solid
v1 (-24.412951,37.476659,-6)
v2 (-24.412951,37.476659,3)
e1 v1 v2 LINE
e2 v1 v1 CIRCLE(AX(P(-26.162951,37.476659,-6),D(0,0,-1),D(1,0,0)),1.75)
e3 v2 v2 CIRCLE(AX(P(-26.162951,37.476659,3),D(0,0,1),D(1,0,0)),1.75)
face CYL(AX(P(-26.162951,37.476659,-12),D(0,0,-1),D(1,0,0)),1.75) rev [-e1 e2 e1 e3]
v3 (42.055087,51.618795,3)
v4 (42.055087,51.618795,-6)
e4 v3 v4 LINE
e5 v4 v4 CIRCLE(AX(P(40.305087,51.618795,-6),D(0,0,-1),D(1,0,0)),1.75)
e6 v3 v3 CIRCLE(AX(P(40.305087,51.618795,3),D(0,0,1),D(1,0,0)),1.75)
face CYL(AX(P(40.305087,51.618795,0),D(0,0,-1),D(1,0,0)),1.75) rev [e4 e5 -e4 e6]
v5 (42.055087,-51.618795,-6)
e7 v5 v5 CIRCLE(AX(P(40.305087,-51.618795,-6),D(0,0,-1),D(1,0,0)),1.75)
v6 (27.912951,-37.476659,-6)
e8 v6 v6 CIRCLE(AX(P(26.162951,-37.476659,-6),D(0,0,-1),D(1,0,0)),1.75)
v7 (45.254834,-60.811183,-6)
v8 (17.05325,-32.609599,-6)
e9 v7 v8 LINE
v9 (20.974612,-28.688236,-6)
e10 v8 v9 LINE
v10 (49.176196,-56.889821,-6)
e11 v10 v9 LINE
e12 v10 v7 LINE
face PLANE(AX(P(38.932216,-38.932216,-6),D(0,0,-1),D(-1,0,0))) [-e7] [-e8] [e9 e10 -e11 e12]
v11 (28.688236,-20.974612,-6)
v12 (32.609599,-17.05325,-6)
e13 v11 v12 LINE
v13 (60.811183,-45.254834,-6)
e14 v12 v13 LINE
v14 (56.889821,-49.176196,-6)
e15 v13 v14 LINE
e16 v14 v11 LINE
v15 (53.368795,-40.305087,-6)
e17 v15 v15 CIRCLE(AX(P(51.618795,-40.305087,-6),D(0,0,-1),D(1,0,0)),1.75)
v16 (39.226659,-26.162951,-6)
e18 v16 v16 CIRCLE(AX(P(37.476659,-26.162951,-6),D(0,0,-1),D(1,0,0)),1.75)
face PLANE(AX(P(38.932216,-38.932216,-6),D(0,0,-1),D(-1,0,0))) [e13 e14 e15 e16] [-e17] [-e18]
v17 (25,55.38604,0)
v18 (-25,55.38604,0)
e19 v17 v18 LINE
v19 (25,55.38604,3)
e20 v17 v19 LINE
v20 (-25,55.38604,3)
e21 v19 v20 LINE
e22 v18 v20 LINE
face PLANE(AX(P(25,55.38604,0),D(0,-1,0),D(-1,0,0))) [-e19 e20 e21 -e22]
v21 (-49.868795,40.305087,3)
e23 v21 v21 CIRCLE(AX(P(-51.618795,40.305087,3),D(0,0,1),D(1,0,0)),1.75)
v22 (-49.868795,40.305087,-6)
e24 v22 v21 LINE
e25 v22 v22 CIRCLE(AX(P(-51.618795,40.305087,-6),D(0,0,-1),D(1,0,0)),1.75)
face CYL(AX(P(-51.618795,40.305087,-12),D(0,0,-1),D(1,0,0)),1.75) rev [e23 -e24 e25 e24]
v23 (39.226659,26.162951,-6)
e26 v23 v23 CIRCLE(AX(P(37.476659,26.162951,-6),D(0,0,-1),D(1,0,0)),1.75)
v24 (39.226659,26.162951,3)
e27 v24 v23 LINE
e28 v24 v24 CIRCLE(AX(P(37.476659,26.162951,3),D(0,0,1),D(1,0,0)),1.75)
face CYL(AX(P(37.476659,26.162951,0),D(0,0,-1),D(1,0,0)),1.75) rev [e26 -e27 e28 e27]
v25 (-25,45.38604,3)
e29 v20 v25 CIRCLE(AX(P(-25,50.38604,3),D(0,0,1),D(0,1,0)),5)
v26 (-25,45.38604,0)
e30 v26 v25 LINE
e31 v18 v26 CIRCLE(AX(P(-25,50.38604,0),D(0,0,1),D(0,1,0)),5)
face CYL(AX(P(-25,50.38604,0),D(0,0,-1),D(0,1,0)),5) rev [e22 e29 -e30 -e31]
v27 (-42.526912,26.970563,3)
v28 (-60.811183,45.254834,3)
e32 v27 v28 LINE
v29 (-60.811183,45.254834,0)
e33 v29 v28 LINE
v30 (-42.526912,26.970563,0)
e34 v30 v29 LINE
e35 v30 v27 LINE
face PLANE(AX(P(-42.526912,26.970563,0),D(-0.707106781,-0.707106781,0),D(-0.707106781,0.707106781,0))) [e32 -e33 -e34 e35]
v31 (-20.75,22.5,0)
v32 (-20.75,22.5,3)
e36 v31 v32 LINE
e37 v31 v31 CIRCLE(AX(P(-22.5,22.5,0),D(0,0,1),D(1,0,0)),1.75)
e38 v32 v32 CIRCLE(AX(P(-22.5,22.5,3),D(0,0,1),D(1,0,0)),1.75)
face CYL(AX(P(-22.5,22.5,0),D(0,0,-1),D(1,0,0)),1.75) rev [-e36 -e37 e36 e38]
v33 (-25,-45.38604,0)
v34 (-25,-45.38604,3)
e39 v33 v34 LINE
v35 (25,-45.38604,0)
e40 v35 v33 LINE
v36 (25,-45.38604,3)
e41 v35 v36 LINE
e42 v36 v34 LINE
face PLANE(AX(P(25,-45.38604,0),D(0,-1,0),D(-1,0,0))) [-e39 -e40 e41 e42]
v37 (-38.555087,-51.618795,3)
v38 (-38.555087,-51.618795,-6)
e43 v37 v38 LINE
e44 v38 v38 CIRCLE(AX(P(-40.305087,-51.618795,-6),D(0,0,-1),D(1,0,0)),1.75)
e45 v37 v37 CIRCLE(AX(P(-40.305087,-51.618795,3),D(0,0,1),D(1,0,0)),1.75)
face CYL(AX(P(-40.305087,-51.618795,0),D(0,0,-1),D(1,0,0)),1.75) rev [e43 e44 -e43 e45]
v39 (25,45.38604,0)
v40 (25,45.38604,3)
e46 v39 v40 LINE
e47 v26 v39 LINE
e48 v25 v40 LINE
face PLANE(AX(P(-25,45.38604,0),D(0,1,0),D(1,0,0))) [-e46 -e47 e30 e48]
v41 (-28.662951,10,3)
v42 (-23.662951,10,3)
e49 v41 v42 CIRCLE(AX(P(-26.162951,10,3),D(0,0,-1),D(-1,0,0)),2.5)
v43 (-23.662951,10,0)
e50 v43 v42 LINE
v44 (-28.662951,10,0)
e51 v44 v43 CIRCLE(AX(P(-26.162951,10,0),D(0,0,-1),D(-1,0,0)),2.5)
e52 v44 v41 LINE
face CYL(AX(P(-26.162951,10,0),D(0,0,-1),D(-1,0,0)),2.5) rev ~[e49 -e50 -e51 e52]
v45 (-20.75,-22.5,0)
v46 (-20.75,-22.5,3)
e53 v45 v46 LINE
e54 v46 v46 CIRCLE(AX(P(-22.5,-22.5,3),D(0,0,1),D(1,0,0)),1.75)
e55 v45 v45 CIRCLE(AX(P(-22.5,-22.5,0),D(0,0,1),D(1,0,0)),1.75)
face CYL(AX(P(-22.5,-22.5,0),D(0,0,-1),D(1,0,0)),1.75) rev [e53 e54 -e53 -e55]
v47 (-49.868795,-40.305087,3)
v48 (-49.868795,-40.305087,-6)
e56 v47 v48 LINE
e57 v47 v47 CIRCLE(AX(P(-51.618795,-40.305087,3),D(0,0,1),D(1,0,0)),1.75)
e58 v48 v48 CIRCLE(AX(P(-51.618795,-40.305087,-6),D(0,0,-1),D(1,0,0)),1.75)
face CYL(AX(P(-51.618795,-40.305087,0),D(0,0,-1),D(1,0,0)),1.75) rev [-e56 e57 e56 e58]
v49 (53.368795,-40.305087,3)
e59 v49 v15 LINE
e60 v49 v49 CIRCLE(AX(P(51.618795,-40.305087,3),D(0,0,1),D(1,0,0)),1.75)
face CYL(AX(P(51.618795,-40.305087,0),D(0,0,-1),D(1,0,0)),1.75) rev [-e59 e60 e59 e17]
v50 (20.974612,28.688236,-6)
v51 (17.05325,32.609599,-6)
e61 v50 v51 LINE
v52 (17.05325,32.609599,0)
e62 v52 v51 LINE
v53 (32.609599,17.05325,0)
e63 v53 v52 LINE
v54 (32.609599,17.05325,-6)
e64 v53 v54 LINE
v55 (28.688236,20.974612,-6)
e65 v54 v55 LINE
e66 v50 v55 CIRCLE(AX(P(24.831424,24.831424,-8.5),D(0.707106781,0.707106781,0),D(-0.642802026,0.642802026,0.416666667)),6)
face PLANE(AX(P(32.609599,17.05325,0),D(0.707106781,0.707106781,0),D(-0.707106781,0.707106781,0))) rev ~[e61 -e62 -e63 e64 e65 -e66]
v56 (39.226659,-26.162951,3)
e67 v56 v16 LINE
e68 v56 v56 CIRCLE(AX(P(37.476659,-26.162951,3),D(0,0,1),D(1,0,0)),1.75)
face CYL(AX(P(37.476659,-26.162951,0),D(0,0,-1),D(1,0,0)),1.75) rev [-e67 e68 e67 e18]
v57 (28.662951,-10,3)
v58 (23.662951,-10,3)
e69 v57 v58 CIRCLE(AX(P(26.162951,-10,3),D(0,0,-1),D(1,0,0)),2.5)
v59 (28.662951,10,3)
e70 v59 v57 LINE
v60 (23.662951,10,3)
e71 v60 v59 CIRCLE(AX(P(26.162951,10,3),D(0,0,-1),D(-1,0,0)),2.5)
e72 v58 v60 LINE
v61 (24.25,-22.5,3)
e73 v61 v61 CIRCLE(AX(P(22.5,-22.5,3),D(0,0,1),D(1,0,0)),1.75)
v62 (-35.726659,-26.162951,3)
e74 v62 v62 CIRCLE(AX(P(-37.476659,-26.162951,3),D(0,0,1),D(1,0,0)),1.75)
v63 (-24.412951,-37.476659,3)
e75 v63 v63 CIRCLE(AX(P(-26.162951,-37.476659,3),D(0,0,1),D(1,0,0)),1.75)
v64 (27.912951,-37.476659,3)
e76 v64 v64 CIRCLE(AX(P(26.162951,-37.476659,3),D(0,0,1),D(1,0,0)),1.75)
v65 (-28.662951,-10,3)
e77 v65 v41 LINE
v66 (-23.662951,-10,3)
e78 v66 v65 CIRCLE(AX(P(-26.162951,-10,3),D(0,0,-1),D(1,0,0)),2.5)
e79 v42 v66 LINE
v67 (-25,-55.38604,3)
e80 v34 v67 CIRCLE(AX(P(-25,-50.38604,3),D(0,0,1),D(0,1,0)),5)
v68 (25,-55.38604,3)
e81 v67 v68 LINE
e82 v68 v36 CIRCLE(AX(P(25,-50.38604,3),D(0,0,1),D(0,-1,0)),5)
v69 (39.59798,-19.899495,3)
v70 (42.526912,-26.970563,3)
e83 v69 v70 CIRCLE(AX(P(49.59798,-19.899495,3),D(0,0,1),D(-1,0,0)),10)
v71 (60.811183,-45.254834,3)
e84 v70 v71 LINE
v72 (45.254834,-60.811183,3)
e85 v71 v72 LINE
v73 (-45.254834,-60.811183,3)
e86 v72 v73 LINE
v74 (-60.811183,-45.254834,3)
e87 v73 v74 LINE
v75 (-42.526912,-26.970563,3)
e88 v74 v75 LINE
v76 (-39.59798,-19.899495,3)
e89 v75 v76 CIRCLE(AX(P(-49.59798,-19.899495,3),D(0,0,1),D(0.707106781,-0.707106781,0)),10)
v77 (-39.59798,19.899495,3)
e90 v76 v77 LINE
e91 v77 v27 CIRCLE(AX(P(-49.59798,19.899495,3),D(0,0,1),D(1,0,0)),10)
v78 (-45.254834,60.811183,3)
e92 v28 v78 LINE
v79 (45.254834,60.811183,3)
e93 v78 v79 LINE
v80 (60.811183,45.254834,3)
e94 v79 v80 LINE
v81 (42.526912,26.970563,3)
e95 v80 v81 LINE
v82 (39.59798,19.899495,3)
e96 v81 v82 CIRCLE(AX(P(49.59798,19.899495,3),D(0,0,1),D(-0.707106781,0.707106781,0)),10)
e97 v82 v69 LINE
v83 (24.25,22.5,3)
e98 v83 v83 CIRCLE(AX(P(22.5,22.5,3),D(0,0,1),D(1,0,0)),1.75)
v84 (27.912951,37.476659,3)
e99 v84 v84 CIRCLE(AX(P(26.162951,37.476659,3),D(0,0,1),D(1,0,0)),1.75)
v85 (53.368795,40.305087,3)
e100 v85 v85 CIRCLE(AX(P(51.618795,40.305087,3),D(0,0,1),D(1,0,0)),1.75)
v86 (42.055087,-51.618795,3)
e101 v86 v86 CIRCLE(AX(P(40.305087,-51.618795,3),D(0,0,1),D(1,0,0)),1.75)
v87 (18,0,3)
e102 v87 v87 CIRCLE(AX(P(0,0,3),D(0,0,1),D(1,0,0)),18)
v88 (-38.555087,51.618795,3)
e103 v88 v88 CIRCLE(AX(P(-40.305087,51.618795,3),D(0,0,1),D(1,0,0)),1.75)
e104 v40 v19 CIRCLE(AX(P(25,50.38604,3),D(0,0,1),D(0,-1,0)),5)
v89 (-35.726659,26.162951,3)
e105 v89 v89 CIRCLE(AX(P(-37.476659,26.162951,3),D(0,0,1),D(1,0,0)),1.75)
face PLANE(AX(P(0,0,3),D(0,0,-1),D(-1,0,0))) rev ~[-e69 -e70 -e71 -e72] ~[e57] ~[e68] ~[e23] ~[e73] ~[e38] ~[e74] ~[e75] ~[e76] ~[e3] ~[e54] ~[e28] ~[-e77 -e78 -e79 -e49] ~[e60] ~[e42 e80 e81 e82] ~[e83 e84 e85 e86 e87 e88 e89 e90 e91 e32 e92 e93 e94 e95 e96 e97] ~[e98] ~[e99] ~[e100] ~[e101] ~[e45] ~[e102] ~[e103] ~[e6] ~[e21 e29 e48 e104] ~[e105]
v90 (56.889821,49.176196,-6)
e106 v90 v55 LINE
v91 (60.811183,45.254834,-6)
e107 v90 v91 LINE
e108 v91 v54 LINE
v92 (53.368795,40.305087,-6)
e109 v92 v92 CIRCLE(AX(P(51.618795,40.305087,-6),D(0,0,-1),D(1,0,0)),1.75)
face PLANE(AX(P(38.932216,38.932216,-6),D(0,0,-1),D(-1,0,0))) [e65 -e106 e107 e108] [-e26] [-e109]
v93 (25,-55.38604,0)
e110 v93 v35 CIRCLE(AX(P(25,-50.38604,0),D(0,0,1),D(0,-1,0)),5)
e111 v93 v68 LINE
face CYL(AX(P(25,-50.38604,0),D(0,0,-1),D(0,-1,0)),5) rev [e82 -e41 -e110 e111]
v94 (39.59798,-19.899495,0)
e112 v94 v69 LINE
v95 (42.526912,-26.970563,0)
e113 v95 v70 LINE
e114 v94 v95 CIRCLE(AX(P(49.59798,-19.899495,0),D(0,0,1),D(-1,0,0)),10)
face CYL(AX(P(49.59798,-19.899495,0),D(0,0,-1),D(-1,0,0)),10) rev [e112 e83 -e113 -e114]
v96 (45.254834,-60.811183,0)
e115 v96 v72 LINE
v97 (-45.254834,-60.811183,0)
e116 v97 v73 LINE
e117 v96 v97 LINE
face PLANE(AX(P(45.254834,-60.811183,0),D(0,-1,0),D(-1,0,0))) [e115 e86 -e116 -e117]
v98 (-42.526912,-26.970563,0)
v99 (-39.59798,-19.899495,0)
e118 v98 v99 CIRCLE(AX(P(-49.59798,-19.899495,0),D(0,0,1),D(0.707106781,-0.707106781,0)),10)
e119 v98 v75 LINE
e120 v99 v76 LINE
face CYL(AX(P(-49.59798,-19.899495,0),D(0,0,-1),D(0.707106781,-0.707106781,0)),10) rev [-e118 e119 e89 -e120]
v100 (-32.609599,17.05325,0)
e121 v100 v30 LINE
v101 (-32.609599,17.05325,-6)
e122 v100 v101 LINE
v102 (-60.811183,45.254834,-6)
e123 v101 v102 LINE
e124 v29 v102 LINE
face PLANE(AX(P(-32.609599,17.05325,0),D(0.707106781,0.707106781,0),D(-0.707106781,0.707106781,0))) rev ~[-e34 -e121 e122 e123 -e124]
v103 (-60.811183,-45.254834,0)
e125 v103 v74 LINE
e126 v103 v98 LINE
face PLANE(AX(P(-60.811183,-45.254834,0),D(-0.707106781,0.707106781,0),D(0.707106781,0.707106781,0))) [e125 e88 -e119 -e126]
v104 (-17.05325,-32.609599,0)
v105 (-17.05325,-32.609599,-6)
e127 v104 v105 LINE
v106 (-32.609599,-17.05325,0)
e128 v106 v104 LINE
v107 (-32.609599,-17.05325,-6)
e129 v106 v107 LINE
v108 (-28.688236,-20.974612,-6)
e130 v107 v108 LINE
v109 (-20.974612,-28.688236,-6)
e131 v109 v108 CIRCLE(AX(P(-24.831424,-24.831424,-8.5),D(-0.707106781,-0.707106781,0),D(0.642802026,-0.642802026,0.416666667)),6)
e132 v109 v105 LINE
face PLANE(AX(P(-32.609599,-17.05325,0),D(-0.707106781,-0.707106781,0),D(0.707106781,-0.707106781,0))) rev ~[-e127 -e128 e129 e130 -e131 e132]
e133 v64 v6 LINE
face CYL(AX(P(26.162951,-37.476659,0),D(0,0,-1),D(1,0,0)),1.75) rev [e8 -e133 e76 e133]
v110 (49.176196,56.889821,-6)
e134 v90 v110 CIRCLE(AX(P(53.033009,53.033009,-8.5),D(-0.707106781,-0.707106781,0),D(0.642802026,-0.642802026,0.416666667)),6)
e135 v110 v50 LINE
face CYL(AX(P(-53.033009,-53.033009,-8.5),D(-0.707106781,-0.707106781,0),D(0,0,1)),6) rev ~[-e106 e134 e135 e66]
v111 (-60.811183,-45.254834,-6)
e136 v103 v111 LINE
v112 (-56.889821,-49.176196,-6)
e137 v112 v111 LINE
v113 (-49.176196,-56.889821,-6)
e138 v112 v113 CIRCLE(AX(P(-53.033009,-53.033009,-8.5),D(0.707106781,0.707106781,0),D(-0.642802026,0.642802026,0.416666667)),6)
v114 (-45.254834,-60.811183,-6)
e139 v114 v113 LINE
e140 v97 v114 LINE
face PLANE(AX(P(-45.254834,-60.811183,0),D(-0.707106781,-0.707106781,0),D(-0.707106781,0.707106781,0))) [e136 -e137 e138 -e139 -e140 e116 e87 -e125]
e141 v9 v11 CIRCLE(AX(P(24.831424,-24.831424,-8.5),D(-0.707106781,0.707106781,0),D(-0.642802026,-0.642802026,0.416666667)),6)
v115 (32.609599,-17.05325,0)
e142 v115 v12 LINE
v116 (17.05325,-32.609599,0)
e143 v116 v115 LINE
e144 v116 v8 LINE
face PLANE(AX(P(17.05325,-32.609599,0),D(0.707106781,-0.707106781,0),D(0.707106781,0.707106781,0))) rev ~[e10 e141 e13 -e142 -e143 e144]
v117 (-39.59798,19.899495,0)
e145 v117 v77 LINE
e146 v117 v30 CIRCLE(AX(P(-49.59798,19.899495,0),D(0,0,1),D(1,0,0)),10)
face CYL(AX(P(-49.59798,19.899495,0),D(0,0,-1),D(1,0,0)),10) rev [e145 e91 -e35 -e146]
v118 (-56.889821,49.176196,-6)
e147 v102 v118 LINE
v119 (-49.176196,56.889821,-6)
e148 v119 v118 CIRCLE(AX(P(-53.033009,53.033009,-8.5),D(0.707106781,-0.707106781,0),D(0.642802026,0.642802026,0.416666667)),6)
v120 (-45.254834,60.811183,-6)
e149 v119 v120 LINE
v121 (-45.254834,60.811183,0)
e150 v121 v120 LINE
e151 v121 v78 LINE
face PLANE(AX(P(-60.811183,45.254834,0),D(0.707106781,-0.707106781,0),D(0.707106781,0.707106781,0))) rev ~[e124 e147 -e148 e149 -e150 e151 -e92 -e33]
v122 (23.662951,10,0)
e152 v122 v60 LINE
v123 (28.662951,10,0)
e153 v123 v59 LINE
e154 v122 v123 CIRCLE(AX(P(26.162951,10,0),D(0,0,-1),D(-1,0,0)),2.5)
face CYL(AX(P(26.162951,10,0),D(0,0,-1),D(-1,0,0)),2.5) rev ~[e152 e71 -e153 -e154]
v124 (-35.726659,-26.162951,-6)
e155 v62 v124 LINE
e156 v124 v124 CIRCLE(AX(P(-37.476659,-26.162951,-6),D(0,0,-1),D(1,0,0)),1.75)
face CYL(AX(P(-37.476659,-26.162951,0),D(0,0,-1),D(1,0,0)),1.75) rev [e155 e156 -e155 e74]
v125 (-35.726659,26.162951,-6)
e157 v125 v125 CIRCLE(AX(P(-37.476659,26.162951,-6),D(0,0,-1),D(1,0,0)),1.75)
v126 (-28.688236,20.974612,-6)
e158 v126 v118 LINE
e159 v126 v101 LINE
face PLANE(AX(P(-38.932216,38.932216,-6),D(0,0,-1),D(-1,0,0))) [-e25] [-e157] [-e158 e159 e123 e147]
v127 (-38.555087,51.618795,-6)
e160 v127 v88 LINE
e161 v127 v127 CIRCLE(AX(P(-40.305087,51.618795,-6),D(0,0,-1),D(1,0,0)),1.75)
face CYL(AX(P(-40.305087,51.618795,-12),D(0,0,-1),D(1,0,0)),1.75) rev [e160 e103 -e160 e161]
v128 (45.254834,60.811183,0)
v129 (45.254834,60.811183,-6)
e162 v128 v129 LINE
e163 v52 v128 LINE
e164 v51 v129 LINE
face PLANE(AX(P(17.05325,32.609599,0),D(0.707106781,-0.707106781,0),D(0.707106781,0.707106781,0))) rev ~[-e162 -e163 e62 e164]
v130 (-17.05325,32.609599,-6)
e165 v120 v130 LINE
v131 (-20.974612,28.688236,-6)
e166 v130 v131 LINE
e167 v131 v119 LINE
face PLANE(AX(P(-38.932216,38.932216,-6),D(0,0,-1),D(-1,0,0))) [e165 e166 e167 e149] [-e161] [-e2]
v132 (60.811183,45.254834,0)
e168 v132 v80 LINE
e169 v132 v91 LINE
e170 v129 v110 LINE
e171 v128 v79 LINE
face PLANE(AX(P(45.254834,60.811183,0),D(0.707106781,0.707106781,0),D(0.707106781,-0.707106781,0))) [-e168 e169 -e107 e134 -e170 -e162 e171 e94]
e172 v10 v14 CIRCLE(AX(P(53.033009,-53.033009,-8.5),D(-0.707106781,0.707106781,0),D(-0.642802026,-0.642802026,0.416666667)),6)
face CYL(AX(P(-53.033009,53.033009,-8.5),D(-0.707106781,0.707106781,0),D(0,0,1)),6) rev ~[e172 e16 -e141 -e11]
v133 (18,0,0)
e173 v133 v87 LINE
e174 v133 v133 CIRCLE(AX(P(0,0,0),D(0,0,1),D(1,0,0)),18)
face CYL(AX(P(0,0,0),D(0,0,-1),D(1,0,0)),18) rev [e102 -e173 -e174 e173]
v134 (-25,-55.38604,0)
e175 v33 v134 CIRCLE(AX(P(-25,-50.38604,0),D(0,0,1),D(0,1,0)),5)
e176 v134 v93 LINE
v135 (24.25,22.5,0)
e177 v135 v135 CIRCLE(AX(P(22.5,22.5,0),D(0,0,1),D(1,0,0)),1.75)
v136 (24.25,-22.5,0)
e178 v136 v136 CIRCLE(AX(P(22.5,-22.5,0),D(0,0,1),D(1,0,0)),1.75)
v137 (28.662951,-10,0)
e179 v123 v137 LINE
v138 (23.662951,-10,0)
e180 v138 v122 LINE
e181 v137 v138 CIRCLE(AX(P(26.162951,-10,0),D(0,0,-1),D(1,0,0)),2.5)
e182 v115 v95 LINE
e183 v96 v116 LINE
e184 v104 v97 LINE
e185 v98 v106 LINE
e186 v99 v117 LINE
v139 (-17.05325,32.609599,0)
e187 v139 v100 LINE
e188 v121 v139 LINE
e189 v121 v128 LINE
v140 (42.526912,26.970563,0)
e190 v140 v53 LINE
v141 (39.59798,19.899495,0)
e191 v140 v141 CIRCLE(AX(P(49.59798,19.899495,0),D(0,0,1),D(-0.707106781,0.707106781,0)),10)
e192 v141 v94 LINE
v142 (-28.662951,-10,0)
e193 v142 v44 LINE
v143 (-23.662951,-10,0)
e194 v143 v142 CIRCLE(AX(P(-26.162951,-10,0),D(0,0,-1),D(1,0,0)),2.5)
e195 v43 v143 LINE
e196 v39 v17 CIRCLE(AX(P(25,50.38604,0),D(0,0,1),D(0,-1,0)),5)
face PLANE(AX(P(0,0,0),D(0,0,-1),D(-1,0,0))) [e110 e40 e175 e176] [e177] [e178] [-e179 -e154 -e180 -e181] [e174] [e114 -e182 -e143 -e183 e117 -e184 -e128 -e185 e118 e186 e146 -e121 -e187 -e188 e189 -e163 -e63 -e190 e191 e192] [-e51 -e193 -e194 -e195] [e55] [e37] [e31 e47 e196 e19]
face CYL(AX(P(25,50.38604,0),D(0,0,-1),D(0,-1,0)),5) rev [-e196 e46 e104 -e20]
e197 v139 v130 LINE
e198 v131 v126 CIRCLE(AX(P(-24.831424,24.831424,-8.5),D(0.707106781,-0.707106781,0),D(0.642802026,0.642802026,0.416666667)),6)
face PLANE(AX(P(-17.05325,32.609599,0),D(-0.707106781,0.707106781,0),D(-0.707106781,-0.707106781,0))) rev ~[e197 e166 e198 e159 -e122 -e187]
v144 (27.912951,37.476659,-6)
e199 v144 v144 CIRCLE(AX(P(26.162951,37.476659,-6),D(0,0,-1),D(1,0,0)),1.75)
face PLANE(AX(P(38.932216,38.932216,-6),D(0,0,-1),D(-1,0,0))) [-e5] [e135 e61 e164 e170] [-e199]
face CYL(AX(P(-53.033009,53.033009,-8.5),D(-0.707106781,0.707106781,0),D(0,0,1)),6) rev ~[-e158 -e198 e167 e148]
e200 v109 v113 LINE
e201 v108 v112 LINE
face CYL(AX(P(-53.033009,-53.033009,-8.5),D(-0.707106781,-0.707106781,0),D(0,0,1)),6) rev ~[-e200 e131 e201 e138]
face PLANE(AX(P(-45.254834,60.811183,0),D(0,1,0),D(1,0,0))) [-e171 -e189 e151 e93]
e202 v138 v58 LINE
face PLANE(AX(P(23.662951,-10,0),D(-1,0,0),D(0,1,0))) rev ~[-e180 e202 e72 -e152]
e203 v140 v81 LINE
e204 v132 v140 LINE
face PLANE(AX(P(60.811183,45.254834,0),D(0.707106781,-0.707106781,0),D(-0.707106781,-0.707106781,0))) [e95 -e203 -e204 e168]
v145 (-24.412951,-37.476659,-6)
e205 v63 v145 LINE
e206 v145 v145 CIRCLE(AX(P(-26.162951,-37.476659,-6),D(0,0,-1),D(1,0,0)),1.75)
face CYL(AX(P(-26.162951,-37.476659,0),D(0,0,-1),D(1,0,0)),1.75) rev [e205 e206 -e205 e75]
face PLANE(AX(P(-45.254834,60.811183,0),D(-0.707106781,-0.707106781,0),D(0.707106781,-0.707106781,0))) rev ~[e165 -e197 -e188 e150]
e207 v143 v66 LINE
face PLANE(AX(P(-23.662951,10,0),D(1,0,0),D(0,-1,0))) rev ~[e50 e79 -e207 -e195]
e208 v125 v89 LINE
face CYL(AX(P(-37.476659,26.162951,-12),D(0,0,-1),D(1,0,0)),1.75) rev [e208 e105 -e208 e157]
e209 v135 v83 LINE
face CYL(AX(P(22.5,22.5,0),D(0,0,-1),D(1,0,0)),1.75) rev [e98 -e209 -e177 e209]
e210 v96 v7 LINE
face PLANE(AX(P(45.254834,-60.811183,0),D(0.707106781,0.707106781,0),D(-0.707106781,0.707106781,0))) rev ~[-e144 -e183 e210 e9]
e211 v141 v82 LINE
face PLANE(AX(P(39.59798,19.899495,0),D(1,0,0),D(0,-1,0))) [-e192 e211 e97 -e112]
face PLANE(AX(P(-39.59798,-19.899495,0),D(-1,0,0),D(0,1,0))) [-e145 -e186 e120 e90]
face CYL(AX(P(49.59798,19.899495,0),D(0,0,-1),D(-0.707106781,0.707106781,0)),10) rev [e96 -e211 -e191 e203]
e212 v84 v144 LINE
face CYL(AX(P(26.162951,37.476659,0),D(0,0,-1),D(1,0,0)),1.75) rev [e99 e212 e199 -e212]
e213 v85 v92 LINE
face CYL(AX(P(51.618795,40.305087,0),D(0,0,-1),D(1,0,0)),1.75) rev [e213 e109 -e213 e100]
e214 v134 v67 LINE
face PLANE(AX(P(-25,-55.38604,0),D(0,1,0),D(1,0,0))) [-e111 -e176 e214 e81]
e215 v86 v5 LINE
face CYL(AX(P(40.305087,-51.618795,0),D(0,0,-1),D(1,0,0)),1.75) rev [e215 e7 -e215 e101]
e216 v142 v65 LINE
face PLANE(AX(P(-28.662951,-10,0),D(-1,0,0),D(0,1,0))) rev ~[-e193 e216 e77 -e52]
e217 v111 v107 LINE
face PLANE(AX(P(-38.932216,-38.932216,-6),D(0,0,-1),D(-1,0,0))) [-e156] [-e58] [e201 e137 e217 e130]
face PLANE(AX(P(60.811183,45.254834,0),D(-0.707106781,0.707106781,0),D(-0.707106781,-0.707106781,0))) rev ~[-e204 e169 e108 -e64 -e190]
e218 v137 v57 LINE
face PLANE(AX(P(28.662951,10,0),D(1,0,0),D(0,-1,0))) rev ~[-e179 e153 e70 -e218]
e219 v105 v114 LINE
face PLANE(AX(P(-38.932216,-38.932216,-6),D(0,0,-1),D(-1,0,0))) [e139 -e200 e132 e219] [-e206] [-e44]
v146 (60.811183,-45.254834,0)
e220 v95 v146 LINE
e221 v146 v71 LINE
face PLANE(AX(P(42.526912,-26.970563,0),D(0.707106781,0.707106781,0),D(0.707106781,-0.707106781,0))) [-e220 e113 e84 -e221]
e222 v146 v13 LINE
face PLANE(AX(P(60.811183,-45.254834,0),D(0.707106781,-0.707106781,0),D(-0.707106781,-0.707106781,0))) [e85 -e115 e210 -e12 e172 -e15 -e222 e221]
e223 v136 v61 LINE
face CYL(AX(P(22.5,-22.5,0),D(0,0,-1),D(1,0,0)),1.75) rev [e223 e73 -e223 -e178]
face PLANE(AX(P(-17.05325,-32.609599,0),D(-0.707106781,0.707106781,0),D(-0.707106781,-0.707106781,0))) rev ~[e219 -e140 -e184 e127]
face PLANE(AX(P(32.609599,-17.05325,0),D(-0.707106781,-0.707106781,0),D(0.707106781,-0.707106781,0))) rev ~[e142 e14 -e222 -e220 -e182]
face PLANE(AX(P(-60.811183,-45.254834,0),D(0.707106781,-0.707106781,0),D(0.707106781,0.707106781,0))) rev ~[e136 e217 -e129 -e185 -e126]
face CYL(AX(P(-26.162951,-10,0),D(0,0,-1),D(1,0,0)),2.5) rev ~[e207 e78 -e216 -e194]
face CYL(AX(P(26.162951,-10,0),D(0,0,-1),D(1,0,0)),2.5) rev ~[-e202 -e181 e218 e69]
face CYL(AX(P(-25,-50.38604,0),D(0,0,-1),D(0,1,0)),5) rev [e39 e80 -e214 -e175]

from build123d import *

# Parameters (mm, degrees)
SKETCH1_R           = 18
SKETCH1_R_2         = 1.75
BOSS_EXTRUDE1_DEPTH = 3
BOSS_EXTRUDE3_DEPTH = 6
CUT_EXTRUDE1_REACH  = 163.112
SKETCH4_R           = 6
CUT_EXTRUDE2_REACH  = 163.112
SKETCH5_R           = 6
CUT_EXTRUDE3_START  = -12
SKETCH1_7_R         = 1.75
CUT_EXTRUDE3_DEPTH  = 12
CUT_EXTRUDE4_START  = -12
SKETCH1_8_R         = 1.75
CUT_EXTRUDE4_DEPTH  = 12


with BuildPart() as part:
    # Sketch1 → Boss-Extrude1 (new body)
    with BuildSketch(Plane.XY):
        with BuildLine():
            Line((-45.254833996, 60.811183182), (45.254833996, 60.811183182))
            Line((45.254833996, 60.811183182), (60.811183182, 45.254833996))
            Line((60.811183182, 45.254833996), (42.526911935, 26.970562748))
            ThreePointArc((42.526911935, 26.970562748), (40.359184421, 23.72632926), (39.597979746, 19.899494937))
            Line((39.597979746, 19.899494937), (39.597979746, -19.899494937))
            ThreePointArc((39.597979746, -19.899494937), (40.359184421, -23.72632926), (42.526911935, -26.970562748))
            Line((42.526911935, -26.970562748), (60.811183182, -45.254833996))
            Line((60.811183182, -45.254833996), (45.254833996, -60.811183182))
            Line((45.254833996, -60.811183182), (-45.254833996, -60.811183182))
            Line((-45.254833996, -60.811183182), (-60.811183182, -45.254833996))
            Line((-60.811183182, -45.254833996), (-42.526911935, -26.970562748))
            ThreePointArc((-42.526911935, -26.970562748), (-40.359184421, -23.72632926), (-39.597979746, -19.899494937))
            Line((-39.597979746, -19.899494937), (-39.597979746, 19.899494937))
            ThreePointArc((-39.597979746, 19.899494937), (-40.359184421, 23.72632926), (-42.526911935, 26.970562748))
            Line((-42.526911935, 26.970562748), (-60.811183182, 45.254833996))
            Line((-60.811183182, 45.254833996), (-45.254833996, 60.811183182))
        make_face()
        Circle(SKETCH1_R, mode=Mode.SUBTRACT)
        with Locations((-37.476659403, -26.162950904)):
            Circle(SKETCH1_R_2, mode=Mode.SUBTRACT)
        with Locations((-26.162950904, -37.476659403)):
            Circle(SKETCH1_R_2, mode=Mode.SUBTRACT)
        with Locations((-40.305086528, -51.618795027)):
            Circle(SKETCH1_R_2, mode=Mode.SUBTRACT)
        with Locations((-51.618795027, -40.305086528)):
            Circle(SKETCH1_R_2, mode=Mode.SUBTRACT)
        with Locations((-22.5, 22.5)):
            Circle(SKETCH1_R_2, mode=Mode.SUBTRACT)
        with Locations((22.5, 22.5)):
            Circle(SKETCH1_R_2, mode=Mode.SUBTRACT)
        with Locations((26.162950904, 37.476659403)):
            Circle(SKETCH1_R_2, mode=Mode.SUBTRACT)
        with Locations((37.476659403, 26.162950904)):
            Circle(SKETCH1_R_2, mode=Mode.SUBTRACT)
        with Locations((51.618795027, 40.305086528)):
            Circle(SKETCH1_R_2, mode=Mode.SUBTRACT)
        with Locations((40.305086528, 51.618795027)):
            Circle(SKETCH1_R_2, mode=Mode.SUBTRACT)
        with Locations((22.5, -22.5)):
            Circle(SKETCH1_R_2, mode=Mode.SUBTRACT)
        with Locations((40.305086528, -51.618795027)):
            Circle(SKETCH1_R_2, mode=Mode.SUBTRACT)
        with Locations((51.618795027, -40.305086528)):
            Circle(SKETCH1_R_2, mode=Mode.SUBTRACT)
        with Locations((37.476659403, -26.162950904)):
            Circle(SKETCH1_R_2, mode=Mode.SUBTRACT)
        with Locations((26.162950904, -37.476659403)):
            Circle(SKETCH1_R_2, mode=Mode.SUBTRACT)
        with Locations((-22.5, -22.5)):
            Circle(SKETCH1_R_2, mode=Mode.SUBTRACT)
        with Locations((-51.618795027, 40.305086528)):
            Circle(SKETCH1_R_2, mode=Mode.SUBTRACT)
        with Locations((-40.305086528, 51.618795027)):
            Circle(SKETCH1_R_2, mode=Mode.SUBTRACT)
        with Locations((-26.162950904, 37.476659403)):
            Circle(SKETCH1_R_2, mode=Mode.SUBTRACT)
        with Locations((-37.476659403, 26.162950904)):
            Circle(SKETCH1_R_2, mode=Mode.SUBTRACT)
        with BuildLine():
            Line((-25, -55.386039841), (25, -55.386039841))
            ThreePointArc((25, -55.386039841), (30, -50.386039841), (25, -45.386039841))
            Line((25, -45.386039841), (-25, -45.386039841))
            ThreePointArc((-25, -45.386039841), (-30, -50.386039841), (-25, -55.386039841))
        make_face(mode=Mode.SUBTRACT)
        with BuildLine():
            Line((23.662950904, -10), (23.662950904, 10))
            ThreePointArc((23.662950904, 10), (26.162950904, 12.5), (28.662950904, 10))
            Line((28.662950904, 10), (28.662950904, -10))
            ThreePointArc((28.662950904, -10), (26.162950904, -12.5), (23.662950904, -10))
        make_face(mode=Mode.SUBTRACT)
        with BuildLine():
            Line((-28.662950904, -10), (-28.662950904, 10))
            ThreePointArc((-28.662950904, 10), (-26.162950904, 12.5), (-23.662950904, 10))
            Line((-23.662950904, 10), (-23.662950904, -10))
            ThreePointArc((-23.662950904, -10), (-26.162950904, -12.5), (-28.662950904, -10))
        make_face(mode=Mode.SUBTRACT)
        with BuildLine():
            Line((-25, 45.386039841), (25, 45.386039841))
            ThreePointArc((25, 45.386039841), (30, 50.386039841), (25, 55.386039841))
            Line((25, 55.386039841), (-25, 55.386039841))
            ThreePointArc((-25, 55.386039841), (-30, 50.386039841), (-25, 45.386039841))
        make_face(mode=Mode.SUBTRACT)
    extrude(amount=BOSS_EXTRUDE1_DEPTH)

    # Sketch3 → Boss-Extrude3 (add)
    with BuildSketch(Plane.XY):
        Polygon((-60.811183182, 45.254833996), (-45.254833996, 60.811183182), (-17.053249746, 32.609598932), (-32.609598932, 17.053249746), align=None)
        Polygon((-60.811183182, -45.254833996), (-32.609598932, -17.053249746), (-17.053249746, -32.609598932), (-45.254833996, -60.811183182), align=None)
        Polygon((60.811183182, -45.254833996), (45.254833996, -60.811183182), (17.053249746, -32.609598932), (32.609598932, -17.053249746), align=None)
        Polygon((60.811183182, 45.254833996), (32.609598932, 17.053249746), (17.053249746, 32.609598932), (45.254833996, 60.811183182), align=None)
    extrude(amount=-BOSS_EXTRUDE3_DEPTH)

    # Cut-Extrude1: up to this face of the body (flat: up to its plane)
    cut_extrude1_end = Plane(part.part.faces().sort_by_distance((53.033008589, -53.033008589, -1.5))[0])
    # Sketch4 → Cut-Extrude1 (cut, up to the picked face)
    with BuildSketch(Plane(origin=(-53.033008589, 53.033008589, 0), x_dir=(0, 0, 1), z_dir=(-0.7071067811865477, 0.7071067811865475, 0)), mode=Mode.PRIVATE) as cut_extrude1_sk1:
        with Locations((-8.5, 0)):
            Circle(SKETCH4_R)
    cut_extrude1_tool1 = split(extrude(cut_extrude1_sk1.sketch, amount=-CUT_EXTRUDE1_REACH, mode=Mode.PRIVATE), bisect_by=cut_extrude1_end, keep=Keep.BOTH, mode=Mode.PRIVATE)
    add(cut_extrude1_tool1.solids().sort_by(Axis((-53.033009, 53.033009, -8.5), (0.7071067811865477, -0.7071067811865475, 0)))[0], mode=Mode.SUBTRACT)

    # Cut-Extrude2: up to this face of the body (flat: up to its plane)
    cut_extrude2_end = Plane(part.part.faces().sort_by_distance((53.033008589, 53.033008589, -1.5))[0])
    # Sketch5 → Cut-Extrude2 (cut, up to the picked face)
    with BuildSketch(Plane(origin=(-53.033008589, -53.033008589, 0), x_dir=(0, 0, 1), z_dir=(-0.7071067811865477, -0.7071067811865475, 0)), mode=Mode.PRIVATE) as cut_extrude2_sk1:
        with Locations((-8.5, 0)):
            Circle(SKETCH5_R)
    cut_extrude2_tool1 = split(extrude(cut_extrude2_sk1.sketch, amount=-CUT_EXTRUDE2_REACH, mode=Mode.PRIVATE), bisect_by=cut_extrude2_end, keep=Keep.BOTH, mode=Mode.PRIVATE)
    add(cut_extrude2_tool1.solids().sort_by(Axis((-53.033009, -53.033009, -8.5), (0.7071067811865477, 0.7071067811865475, 0)))[0], mode=Mode.SUBTRACT)

    # Sketch1<7> → Cut-Extrude3 (cut)
    with BuildSketch(Plane.XY.offset(CUT_EXTRUDE3_START)):
        with Locations((-37.476659403, -26.162950904)):
            Circle(SKETCH1_7_R)
        with Locations((-26.162950904, -37.476659403)):
            Circle(SKETCH1_7_R)
        with Locations((-40.305086528, -51.618795027)):
            Circle(SKETCH1_7_R)
        with Locations((-51.618795027, -40.305086528)):
            Circle(SKETCH1_7_R)
        with Locations((26.162950904, 37.476659403)):
            Circle(SKETCH1_7_R)
        with Locations((51.618795027, 40.305086528)):
            Circle(SKETCH1_7_R)
        with Locations((40.305086528, 51.618795027)):
            Circle(SKETCH1_7_R)
        with Locations((40.305086528, -51.618795027)):
            Circle(SKETCH1_7_R)
        with Locations((51.618795027, -40.305086528)):
            Circle(SKETCH1_7_R)
        with Locations((37.476659403, -26.162950904)):
            Circle(SKETCH1_7_R)
        with Locations((26.162950904, -37.476659403)):
            Circle(SKETCH1_7_R)
        with Locations((-51.618795027, 40.305086528)):
            Circle(SKETCH1_7_R)
        with Locations((-40.305086528, 51.618795027)):
            Circle(SKETCH1_7_R)
        with Locations((-26.162950904, 37.476659403)):
            Circle(SKETCH1_7_R)
        with Locations((-37.476659403, 26.162950904)):
            Circle(SKETCH1_7_R)
    extrude(amount=CUT_EXTRUDE3_DEPTH, mode=Mode.SUBTRACT)

    # Sketch1<8> → Cut-Extrude4 (cut)
    with BuildSketch(Plane.XY.offset(CUT_EXTRUDE4_START)):
        with Locations((37.476659403, 26.162950904)):
            Circle(SKETCH1_8_R)
    extrude(amount=CUT_EXTRUDE4_DEPTH, mode=Mode.SUBTRACT)


solid = part.part
